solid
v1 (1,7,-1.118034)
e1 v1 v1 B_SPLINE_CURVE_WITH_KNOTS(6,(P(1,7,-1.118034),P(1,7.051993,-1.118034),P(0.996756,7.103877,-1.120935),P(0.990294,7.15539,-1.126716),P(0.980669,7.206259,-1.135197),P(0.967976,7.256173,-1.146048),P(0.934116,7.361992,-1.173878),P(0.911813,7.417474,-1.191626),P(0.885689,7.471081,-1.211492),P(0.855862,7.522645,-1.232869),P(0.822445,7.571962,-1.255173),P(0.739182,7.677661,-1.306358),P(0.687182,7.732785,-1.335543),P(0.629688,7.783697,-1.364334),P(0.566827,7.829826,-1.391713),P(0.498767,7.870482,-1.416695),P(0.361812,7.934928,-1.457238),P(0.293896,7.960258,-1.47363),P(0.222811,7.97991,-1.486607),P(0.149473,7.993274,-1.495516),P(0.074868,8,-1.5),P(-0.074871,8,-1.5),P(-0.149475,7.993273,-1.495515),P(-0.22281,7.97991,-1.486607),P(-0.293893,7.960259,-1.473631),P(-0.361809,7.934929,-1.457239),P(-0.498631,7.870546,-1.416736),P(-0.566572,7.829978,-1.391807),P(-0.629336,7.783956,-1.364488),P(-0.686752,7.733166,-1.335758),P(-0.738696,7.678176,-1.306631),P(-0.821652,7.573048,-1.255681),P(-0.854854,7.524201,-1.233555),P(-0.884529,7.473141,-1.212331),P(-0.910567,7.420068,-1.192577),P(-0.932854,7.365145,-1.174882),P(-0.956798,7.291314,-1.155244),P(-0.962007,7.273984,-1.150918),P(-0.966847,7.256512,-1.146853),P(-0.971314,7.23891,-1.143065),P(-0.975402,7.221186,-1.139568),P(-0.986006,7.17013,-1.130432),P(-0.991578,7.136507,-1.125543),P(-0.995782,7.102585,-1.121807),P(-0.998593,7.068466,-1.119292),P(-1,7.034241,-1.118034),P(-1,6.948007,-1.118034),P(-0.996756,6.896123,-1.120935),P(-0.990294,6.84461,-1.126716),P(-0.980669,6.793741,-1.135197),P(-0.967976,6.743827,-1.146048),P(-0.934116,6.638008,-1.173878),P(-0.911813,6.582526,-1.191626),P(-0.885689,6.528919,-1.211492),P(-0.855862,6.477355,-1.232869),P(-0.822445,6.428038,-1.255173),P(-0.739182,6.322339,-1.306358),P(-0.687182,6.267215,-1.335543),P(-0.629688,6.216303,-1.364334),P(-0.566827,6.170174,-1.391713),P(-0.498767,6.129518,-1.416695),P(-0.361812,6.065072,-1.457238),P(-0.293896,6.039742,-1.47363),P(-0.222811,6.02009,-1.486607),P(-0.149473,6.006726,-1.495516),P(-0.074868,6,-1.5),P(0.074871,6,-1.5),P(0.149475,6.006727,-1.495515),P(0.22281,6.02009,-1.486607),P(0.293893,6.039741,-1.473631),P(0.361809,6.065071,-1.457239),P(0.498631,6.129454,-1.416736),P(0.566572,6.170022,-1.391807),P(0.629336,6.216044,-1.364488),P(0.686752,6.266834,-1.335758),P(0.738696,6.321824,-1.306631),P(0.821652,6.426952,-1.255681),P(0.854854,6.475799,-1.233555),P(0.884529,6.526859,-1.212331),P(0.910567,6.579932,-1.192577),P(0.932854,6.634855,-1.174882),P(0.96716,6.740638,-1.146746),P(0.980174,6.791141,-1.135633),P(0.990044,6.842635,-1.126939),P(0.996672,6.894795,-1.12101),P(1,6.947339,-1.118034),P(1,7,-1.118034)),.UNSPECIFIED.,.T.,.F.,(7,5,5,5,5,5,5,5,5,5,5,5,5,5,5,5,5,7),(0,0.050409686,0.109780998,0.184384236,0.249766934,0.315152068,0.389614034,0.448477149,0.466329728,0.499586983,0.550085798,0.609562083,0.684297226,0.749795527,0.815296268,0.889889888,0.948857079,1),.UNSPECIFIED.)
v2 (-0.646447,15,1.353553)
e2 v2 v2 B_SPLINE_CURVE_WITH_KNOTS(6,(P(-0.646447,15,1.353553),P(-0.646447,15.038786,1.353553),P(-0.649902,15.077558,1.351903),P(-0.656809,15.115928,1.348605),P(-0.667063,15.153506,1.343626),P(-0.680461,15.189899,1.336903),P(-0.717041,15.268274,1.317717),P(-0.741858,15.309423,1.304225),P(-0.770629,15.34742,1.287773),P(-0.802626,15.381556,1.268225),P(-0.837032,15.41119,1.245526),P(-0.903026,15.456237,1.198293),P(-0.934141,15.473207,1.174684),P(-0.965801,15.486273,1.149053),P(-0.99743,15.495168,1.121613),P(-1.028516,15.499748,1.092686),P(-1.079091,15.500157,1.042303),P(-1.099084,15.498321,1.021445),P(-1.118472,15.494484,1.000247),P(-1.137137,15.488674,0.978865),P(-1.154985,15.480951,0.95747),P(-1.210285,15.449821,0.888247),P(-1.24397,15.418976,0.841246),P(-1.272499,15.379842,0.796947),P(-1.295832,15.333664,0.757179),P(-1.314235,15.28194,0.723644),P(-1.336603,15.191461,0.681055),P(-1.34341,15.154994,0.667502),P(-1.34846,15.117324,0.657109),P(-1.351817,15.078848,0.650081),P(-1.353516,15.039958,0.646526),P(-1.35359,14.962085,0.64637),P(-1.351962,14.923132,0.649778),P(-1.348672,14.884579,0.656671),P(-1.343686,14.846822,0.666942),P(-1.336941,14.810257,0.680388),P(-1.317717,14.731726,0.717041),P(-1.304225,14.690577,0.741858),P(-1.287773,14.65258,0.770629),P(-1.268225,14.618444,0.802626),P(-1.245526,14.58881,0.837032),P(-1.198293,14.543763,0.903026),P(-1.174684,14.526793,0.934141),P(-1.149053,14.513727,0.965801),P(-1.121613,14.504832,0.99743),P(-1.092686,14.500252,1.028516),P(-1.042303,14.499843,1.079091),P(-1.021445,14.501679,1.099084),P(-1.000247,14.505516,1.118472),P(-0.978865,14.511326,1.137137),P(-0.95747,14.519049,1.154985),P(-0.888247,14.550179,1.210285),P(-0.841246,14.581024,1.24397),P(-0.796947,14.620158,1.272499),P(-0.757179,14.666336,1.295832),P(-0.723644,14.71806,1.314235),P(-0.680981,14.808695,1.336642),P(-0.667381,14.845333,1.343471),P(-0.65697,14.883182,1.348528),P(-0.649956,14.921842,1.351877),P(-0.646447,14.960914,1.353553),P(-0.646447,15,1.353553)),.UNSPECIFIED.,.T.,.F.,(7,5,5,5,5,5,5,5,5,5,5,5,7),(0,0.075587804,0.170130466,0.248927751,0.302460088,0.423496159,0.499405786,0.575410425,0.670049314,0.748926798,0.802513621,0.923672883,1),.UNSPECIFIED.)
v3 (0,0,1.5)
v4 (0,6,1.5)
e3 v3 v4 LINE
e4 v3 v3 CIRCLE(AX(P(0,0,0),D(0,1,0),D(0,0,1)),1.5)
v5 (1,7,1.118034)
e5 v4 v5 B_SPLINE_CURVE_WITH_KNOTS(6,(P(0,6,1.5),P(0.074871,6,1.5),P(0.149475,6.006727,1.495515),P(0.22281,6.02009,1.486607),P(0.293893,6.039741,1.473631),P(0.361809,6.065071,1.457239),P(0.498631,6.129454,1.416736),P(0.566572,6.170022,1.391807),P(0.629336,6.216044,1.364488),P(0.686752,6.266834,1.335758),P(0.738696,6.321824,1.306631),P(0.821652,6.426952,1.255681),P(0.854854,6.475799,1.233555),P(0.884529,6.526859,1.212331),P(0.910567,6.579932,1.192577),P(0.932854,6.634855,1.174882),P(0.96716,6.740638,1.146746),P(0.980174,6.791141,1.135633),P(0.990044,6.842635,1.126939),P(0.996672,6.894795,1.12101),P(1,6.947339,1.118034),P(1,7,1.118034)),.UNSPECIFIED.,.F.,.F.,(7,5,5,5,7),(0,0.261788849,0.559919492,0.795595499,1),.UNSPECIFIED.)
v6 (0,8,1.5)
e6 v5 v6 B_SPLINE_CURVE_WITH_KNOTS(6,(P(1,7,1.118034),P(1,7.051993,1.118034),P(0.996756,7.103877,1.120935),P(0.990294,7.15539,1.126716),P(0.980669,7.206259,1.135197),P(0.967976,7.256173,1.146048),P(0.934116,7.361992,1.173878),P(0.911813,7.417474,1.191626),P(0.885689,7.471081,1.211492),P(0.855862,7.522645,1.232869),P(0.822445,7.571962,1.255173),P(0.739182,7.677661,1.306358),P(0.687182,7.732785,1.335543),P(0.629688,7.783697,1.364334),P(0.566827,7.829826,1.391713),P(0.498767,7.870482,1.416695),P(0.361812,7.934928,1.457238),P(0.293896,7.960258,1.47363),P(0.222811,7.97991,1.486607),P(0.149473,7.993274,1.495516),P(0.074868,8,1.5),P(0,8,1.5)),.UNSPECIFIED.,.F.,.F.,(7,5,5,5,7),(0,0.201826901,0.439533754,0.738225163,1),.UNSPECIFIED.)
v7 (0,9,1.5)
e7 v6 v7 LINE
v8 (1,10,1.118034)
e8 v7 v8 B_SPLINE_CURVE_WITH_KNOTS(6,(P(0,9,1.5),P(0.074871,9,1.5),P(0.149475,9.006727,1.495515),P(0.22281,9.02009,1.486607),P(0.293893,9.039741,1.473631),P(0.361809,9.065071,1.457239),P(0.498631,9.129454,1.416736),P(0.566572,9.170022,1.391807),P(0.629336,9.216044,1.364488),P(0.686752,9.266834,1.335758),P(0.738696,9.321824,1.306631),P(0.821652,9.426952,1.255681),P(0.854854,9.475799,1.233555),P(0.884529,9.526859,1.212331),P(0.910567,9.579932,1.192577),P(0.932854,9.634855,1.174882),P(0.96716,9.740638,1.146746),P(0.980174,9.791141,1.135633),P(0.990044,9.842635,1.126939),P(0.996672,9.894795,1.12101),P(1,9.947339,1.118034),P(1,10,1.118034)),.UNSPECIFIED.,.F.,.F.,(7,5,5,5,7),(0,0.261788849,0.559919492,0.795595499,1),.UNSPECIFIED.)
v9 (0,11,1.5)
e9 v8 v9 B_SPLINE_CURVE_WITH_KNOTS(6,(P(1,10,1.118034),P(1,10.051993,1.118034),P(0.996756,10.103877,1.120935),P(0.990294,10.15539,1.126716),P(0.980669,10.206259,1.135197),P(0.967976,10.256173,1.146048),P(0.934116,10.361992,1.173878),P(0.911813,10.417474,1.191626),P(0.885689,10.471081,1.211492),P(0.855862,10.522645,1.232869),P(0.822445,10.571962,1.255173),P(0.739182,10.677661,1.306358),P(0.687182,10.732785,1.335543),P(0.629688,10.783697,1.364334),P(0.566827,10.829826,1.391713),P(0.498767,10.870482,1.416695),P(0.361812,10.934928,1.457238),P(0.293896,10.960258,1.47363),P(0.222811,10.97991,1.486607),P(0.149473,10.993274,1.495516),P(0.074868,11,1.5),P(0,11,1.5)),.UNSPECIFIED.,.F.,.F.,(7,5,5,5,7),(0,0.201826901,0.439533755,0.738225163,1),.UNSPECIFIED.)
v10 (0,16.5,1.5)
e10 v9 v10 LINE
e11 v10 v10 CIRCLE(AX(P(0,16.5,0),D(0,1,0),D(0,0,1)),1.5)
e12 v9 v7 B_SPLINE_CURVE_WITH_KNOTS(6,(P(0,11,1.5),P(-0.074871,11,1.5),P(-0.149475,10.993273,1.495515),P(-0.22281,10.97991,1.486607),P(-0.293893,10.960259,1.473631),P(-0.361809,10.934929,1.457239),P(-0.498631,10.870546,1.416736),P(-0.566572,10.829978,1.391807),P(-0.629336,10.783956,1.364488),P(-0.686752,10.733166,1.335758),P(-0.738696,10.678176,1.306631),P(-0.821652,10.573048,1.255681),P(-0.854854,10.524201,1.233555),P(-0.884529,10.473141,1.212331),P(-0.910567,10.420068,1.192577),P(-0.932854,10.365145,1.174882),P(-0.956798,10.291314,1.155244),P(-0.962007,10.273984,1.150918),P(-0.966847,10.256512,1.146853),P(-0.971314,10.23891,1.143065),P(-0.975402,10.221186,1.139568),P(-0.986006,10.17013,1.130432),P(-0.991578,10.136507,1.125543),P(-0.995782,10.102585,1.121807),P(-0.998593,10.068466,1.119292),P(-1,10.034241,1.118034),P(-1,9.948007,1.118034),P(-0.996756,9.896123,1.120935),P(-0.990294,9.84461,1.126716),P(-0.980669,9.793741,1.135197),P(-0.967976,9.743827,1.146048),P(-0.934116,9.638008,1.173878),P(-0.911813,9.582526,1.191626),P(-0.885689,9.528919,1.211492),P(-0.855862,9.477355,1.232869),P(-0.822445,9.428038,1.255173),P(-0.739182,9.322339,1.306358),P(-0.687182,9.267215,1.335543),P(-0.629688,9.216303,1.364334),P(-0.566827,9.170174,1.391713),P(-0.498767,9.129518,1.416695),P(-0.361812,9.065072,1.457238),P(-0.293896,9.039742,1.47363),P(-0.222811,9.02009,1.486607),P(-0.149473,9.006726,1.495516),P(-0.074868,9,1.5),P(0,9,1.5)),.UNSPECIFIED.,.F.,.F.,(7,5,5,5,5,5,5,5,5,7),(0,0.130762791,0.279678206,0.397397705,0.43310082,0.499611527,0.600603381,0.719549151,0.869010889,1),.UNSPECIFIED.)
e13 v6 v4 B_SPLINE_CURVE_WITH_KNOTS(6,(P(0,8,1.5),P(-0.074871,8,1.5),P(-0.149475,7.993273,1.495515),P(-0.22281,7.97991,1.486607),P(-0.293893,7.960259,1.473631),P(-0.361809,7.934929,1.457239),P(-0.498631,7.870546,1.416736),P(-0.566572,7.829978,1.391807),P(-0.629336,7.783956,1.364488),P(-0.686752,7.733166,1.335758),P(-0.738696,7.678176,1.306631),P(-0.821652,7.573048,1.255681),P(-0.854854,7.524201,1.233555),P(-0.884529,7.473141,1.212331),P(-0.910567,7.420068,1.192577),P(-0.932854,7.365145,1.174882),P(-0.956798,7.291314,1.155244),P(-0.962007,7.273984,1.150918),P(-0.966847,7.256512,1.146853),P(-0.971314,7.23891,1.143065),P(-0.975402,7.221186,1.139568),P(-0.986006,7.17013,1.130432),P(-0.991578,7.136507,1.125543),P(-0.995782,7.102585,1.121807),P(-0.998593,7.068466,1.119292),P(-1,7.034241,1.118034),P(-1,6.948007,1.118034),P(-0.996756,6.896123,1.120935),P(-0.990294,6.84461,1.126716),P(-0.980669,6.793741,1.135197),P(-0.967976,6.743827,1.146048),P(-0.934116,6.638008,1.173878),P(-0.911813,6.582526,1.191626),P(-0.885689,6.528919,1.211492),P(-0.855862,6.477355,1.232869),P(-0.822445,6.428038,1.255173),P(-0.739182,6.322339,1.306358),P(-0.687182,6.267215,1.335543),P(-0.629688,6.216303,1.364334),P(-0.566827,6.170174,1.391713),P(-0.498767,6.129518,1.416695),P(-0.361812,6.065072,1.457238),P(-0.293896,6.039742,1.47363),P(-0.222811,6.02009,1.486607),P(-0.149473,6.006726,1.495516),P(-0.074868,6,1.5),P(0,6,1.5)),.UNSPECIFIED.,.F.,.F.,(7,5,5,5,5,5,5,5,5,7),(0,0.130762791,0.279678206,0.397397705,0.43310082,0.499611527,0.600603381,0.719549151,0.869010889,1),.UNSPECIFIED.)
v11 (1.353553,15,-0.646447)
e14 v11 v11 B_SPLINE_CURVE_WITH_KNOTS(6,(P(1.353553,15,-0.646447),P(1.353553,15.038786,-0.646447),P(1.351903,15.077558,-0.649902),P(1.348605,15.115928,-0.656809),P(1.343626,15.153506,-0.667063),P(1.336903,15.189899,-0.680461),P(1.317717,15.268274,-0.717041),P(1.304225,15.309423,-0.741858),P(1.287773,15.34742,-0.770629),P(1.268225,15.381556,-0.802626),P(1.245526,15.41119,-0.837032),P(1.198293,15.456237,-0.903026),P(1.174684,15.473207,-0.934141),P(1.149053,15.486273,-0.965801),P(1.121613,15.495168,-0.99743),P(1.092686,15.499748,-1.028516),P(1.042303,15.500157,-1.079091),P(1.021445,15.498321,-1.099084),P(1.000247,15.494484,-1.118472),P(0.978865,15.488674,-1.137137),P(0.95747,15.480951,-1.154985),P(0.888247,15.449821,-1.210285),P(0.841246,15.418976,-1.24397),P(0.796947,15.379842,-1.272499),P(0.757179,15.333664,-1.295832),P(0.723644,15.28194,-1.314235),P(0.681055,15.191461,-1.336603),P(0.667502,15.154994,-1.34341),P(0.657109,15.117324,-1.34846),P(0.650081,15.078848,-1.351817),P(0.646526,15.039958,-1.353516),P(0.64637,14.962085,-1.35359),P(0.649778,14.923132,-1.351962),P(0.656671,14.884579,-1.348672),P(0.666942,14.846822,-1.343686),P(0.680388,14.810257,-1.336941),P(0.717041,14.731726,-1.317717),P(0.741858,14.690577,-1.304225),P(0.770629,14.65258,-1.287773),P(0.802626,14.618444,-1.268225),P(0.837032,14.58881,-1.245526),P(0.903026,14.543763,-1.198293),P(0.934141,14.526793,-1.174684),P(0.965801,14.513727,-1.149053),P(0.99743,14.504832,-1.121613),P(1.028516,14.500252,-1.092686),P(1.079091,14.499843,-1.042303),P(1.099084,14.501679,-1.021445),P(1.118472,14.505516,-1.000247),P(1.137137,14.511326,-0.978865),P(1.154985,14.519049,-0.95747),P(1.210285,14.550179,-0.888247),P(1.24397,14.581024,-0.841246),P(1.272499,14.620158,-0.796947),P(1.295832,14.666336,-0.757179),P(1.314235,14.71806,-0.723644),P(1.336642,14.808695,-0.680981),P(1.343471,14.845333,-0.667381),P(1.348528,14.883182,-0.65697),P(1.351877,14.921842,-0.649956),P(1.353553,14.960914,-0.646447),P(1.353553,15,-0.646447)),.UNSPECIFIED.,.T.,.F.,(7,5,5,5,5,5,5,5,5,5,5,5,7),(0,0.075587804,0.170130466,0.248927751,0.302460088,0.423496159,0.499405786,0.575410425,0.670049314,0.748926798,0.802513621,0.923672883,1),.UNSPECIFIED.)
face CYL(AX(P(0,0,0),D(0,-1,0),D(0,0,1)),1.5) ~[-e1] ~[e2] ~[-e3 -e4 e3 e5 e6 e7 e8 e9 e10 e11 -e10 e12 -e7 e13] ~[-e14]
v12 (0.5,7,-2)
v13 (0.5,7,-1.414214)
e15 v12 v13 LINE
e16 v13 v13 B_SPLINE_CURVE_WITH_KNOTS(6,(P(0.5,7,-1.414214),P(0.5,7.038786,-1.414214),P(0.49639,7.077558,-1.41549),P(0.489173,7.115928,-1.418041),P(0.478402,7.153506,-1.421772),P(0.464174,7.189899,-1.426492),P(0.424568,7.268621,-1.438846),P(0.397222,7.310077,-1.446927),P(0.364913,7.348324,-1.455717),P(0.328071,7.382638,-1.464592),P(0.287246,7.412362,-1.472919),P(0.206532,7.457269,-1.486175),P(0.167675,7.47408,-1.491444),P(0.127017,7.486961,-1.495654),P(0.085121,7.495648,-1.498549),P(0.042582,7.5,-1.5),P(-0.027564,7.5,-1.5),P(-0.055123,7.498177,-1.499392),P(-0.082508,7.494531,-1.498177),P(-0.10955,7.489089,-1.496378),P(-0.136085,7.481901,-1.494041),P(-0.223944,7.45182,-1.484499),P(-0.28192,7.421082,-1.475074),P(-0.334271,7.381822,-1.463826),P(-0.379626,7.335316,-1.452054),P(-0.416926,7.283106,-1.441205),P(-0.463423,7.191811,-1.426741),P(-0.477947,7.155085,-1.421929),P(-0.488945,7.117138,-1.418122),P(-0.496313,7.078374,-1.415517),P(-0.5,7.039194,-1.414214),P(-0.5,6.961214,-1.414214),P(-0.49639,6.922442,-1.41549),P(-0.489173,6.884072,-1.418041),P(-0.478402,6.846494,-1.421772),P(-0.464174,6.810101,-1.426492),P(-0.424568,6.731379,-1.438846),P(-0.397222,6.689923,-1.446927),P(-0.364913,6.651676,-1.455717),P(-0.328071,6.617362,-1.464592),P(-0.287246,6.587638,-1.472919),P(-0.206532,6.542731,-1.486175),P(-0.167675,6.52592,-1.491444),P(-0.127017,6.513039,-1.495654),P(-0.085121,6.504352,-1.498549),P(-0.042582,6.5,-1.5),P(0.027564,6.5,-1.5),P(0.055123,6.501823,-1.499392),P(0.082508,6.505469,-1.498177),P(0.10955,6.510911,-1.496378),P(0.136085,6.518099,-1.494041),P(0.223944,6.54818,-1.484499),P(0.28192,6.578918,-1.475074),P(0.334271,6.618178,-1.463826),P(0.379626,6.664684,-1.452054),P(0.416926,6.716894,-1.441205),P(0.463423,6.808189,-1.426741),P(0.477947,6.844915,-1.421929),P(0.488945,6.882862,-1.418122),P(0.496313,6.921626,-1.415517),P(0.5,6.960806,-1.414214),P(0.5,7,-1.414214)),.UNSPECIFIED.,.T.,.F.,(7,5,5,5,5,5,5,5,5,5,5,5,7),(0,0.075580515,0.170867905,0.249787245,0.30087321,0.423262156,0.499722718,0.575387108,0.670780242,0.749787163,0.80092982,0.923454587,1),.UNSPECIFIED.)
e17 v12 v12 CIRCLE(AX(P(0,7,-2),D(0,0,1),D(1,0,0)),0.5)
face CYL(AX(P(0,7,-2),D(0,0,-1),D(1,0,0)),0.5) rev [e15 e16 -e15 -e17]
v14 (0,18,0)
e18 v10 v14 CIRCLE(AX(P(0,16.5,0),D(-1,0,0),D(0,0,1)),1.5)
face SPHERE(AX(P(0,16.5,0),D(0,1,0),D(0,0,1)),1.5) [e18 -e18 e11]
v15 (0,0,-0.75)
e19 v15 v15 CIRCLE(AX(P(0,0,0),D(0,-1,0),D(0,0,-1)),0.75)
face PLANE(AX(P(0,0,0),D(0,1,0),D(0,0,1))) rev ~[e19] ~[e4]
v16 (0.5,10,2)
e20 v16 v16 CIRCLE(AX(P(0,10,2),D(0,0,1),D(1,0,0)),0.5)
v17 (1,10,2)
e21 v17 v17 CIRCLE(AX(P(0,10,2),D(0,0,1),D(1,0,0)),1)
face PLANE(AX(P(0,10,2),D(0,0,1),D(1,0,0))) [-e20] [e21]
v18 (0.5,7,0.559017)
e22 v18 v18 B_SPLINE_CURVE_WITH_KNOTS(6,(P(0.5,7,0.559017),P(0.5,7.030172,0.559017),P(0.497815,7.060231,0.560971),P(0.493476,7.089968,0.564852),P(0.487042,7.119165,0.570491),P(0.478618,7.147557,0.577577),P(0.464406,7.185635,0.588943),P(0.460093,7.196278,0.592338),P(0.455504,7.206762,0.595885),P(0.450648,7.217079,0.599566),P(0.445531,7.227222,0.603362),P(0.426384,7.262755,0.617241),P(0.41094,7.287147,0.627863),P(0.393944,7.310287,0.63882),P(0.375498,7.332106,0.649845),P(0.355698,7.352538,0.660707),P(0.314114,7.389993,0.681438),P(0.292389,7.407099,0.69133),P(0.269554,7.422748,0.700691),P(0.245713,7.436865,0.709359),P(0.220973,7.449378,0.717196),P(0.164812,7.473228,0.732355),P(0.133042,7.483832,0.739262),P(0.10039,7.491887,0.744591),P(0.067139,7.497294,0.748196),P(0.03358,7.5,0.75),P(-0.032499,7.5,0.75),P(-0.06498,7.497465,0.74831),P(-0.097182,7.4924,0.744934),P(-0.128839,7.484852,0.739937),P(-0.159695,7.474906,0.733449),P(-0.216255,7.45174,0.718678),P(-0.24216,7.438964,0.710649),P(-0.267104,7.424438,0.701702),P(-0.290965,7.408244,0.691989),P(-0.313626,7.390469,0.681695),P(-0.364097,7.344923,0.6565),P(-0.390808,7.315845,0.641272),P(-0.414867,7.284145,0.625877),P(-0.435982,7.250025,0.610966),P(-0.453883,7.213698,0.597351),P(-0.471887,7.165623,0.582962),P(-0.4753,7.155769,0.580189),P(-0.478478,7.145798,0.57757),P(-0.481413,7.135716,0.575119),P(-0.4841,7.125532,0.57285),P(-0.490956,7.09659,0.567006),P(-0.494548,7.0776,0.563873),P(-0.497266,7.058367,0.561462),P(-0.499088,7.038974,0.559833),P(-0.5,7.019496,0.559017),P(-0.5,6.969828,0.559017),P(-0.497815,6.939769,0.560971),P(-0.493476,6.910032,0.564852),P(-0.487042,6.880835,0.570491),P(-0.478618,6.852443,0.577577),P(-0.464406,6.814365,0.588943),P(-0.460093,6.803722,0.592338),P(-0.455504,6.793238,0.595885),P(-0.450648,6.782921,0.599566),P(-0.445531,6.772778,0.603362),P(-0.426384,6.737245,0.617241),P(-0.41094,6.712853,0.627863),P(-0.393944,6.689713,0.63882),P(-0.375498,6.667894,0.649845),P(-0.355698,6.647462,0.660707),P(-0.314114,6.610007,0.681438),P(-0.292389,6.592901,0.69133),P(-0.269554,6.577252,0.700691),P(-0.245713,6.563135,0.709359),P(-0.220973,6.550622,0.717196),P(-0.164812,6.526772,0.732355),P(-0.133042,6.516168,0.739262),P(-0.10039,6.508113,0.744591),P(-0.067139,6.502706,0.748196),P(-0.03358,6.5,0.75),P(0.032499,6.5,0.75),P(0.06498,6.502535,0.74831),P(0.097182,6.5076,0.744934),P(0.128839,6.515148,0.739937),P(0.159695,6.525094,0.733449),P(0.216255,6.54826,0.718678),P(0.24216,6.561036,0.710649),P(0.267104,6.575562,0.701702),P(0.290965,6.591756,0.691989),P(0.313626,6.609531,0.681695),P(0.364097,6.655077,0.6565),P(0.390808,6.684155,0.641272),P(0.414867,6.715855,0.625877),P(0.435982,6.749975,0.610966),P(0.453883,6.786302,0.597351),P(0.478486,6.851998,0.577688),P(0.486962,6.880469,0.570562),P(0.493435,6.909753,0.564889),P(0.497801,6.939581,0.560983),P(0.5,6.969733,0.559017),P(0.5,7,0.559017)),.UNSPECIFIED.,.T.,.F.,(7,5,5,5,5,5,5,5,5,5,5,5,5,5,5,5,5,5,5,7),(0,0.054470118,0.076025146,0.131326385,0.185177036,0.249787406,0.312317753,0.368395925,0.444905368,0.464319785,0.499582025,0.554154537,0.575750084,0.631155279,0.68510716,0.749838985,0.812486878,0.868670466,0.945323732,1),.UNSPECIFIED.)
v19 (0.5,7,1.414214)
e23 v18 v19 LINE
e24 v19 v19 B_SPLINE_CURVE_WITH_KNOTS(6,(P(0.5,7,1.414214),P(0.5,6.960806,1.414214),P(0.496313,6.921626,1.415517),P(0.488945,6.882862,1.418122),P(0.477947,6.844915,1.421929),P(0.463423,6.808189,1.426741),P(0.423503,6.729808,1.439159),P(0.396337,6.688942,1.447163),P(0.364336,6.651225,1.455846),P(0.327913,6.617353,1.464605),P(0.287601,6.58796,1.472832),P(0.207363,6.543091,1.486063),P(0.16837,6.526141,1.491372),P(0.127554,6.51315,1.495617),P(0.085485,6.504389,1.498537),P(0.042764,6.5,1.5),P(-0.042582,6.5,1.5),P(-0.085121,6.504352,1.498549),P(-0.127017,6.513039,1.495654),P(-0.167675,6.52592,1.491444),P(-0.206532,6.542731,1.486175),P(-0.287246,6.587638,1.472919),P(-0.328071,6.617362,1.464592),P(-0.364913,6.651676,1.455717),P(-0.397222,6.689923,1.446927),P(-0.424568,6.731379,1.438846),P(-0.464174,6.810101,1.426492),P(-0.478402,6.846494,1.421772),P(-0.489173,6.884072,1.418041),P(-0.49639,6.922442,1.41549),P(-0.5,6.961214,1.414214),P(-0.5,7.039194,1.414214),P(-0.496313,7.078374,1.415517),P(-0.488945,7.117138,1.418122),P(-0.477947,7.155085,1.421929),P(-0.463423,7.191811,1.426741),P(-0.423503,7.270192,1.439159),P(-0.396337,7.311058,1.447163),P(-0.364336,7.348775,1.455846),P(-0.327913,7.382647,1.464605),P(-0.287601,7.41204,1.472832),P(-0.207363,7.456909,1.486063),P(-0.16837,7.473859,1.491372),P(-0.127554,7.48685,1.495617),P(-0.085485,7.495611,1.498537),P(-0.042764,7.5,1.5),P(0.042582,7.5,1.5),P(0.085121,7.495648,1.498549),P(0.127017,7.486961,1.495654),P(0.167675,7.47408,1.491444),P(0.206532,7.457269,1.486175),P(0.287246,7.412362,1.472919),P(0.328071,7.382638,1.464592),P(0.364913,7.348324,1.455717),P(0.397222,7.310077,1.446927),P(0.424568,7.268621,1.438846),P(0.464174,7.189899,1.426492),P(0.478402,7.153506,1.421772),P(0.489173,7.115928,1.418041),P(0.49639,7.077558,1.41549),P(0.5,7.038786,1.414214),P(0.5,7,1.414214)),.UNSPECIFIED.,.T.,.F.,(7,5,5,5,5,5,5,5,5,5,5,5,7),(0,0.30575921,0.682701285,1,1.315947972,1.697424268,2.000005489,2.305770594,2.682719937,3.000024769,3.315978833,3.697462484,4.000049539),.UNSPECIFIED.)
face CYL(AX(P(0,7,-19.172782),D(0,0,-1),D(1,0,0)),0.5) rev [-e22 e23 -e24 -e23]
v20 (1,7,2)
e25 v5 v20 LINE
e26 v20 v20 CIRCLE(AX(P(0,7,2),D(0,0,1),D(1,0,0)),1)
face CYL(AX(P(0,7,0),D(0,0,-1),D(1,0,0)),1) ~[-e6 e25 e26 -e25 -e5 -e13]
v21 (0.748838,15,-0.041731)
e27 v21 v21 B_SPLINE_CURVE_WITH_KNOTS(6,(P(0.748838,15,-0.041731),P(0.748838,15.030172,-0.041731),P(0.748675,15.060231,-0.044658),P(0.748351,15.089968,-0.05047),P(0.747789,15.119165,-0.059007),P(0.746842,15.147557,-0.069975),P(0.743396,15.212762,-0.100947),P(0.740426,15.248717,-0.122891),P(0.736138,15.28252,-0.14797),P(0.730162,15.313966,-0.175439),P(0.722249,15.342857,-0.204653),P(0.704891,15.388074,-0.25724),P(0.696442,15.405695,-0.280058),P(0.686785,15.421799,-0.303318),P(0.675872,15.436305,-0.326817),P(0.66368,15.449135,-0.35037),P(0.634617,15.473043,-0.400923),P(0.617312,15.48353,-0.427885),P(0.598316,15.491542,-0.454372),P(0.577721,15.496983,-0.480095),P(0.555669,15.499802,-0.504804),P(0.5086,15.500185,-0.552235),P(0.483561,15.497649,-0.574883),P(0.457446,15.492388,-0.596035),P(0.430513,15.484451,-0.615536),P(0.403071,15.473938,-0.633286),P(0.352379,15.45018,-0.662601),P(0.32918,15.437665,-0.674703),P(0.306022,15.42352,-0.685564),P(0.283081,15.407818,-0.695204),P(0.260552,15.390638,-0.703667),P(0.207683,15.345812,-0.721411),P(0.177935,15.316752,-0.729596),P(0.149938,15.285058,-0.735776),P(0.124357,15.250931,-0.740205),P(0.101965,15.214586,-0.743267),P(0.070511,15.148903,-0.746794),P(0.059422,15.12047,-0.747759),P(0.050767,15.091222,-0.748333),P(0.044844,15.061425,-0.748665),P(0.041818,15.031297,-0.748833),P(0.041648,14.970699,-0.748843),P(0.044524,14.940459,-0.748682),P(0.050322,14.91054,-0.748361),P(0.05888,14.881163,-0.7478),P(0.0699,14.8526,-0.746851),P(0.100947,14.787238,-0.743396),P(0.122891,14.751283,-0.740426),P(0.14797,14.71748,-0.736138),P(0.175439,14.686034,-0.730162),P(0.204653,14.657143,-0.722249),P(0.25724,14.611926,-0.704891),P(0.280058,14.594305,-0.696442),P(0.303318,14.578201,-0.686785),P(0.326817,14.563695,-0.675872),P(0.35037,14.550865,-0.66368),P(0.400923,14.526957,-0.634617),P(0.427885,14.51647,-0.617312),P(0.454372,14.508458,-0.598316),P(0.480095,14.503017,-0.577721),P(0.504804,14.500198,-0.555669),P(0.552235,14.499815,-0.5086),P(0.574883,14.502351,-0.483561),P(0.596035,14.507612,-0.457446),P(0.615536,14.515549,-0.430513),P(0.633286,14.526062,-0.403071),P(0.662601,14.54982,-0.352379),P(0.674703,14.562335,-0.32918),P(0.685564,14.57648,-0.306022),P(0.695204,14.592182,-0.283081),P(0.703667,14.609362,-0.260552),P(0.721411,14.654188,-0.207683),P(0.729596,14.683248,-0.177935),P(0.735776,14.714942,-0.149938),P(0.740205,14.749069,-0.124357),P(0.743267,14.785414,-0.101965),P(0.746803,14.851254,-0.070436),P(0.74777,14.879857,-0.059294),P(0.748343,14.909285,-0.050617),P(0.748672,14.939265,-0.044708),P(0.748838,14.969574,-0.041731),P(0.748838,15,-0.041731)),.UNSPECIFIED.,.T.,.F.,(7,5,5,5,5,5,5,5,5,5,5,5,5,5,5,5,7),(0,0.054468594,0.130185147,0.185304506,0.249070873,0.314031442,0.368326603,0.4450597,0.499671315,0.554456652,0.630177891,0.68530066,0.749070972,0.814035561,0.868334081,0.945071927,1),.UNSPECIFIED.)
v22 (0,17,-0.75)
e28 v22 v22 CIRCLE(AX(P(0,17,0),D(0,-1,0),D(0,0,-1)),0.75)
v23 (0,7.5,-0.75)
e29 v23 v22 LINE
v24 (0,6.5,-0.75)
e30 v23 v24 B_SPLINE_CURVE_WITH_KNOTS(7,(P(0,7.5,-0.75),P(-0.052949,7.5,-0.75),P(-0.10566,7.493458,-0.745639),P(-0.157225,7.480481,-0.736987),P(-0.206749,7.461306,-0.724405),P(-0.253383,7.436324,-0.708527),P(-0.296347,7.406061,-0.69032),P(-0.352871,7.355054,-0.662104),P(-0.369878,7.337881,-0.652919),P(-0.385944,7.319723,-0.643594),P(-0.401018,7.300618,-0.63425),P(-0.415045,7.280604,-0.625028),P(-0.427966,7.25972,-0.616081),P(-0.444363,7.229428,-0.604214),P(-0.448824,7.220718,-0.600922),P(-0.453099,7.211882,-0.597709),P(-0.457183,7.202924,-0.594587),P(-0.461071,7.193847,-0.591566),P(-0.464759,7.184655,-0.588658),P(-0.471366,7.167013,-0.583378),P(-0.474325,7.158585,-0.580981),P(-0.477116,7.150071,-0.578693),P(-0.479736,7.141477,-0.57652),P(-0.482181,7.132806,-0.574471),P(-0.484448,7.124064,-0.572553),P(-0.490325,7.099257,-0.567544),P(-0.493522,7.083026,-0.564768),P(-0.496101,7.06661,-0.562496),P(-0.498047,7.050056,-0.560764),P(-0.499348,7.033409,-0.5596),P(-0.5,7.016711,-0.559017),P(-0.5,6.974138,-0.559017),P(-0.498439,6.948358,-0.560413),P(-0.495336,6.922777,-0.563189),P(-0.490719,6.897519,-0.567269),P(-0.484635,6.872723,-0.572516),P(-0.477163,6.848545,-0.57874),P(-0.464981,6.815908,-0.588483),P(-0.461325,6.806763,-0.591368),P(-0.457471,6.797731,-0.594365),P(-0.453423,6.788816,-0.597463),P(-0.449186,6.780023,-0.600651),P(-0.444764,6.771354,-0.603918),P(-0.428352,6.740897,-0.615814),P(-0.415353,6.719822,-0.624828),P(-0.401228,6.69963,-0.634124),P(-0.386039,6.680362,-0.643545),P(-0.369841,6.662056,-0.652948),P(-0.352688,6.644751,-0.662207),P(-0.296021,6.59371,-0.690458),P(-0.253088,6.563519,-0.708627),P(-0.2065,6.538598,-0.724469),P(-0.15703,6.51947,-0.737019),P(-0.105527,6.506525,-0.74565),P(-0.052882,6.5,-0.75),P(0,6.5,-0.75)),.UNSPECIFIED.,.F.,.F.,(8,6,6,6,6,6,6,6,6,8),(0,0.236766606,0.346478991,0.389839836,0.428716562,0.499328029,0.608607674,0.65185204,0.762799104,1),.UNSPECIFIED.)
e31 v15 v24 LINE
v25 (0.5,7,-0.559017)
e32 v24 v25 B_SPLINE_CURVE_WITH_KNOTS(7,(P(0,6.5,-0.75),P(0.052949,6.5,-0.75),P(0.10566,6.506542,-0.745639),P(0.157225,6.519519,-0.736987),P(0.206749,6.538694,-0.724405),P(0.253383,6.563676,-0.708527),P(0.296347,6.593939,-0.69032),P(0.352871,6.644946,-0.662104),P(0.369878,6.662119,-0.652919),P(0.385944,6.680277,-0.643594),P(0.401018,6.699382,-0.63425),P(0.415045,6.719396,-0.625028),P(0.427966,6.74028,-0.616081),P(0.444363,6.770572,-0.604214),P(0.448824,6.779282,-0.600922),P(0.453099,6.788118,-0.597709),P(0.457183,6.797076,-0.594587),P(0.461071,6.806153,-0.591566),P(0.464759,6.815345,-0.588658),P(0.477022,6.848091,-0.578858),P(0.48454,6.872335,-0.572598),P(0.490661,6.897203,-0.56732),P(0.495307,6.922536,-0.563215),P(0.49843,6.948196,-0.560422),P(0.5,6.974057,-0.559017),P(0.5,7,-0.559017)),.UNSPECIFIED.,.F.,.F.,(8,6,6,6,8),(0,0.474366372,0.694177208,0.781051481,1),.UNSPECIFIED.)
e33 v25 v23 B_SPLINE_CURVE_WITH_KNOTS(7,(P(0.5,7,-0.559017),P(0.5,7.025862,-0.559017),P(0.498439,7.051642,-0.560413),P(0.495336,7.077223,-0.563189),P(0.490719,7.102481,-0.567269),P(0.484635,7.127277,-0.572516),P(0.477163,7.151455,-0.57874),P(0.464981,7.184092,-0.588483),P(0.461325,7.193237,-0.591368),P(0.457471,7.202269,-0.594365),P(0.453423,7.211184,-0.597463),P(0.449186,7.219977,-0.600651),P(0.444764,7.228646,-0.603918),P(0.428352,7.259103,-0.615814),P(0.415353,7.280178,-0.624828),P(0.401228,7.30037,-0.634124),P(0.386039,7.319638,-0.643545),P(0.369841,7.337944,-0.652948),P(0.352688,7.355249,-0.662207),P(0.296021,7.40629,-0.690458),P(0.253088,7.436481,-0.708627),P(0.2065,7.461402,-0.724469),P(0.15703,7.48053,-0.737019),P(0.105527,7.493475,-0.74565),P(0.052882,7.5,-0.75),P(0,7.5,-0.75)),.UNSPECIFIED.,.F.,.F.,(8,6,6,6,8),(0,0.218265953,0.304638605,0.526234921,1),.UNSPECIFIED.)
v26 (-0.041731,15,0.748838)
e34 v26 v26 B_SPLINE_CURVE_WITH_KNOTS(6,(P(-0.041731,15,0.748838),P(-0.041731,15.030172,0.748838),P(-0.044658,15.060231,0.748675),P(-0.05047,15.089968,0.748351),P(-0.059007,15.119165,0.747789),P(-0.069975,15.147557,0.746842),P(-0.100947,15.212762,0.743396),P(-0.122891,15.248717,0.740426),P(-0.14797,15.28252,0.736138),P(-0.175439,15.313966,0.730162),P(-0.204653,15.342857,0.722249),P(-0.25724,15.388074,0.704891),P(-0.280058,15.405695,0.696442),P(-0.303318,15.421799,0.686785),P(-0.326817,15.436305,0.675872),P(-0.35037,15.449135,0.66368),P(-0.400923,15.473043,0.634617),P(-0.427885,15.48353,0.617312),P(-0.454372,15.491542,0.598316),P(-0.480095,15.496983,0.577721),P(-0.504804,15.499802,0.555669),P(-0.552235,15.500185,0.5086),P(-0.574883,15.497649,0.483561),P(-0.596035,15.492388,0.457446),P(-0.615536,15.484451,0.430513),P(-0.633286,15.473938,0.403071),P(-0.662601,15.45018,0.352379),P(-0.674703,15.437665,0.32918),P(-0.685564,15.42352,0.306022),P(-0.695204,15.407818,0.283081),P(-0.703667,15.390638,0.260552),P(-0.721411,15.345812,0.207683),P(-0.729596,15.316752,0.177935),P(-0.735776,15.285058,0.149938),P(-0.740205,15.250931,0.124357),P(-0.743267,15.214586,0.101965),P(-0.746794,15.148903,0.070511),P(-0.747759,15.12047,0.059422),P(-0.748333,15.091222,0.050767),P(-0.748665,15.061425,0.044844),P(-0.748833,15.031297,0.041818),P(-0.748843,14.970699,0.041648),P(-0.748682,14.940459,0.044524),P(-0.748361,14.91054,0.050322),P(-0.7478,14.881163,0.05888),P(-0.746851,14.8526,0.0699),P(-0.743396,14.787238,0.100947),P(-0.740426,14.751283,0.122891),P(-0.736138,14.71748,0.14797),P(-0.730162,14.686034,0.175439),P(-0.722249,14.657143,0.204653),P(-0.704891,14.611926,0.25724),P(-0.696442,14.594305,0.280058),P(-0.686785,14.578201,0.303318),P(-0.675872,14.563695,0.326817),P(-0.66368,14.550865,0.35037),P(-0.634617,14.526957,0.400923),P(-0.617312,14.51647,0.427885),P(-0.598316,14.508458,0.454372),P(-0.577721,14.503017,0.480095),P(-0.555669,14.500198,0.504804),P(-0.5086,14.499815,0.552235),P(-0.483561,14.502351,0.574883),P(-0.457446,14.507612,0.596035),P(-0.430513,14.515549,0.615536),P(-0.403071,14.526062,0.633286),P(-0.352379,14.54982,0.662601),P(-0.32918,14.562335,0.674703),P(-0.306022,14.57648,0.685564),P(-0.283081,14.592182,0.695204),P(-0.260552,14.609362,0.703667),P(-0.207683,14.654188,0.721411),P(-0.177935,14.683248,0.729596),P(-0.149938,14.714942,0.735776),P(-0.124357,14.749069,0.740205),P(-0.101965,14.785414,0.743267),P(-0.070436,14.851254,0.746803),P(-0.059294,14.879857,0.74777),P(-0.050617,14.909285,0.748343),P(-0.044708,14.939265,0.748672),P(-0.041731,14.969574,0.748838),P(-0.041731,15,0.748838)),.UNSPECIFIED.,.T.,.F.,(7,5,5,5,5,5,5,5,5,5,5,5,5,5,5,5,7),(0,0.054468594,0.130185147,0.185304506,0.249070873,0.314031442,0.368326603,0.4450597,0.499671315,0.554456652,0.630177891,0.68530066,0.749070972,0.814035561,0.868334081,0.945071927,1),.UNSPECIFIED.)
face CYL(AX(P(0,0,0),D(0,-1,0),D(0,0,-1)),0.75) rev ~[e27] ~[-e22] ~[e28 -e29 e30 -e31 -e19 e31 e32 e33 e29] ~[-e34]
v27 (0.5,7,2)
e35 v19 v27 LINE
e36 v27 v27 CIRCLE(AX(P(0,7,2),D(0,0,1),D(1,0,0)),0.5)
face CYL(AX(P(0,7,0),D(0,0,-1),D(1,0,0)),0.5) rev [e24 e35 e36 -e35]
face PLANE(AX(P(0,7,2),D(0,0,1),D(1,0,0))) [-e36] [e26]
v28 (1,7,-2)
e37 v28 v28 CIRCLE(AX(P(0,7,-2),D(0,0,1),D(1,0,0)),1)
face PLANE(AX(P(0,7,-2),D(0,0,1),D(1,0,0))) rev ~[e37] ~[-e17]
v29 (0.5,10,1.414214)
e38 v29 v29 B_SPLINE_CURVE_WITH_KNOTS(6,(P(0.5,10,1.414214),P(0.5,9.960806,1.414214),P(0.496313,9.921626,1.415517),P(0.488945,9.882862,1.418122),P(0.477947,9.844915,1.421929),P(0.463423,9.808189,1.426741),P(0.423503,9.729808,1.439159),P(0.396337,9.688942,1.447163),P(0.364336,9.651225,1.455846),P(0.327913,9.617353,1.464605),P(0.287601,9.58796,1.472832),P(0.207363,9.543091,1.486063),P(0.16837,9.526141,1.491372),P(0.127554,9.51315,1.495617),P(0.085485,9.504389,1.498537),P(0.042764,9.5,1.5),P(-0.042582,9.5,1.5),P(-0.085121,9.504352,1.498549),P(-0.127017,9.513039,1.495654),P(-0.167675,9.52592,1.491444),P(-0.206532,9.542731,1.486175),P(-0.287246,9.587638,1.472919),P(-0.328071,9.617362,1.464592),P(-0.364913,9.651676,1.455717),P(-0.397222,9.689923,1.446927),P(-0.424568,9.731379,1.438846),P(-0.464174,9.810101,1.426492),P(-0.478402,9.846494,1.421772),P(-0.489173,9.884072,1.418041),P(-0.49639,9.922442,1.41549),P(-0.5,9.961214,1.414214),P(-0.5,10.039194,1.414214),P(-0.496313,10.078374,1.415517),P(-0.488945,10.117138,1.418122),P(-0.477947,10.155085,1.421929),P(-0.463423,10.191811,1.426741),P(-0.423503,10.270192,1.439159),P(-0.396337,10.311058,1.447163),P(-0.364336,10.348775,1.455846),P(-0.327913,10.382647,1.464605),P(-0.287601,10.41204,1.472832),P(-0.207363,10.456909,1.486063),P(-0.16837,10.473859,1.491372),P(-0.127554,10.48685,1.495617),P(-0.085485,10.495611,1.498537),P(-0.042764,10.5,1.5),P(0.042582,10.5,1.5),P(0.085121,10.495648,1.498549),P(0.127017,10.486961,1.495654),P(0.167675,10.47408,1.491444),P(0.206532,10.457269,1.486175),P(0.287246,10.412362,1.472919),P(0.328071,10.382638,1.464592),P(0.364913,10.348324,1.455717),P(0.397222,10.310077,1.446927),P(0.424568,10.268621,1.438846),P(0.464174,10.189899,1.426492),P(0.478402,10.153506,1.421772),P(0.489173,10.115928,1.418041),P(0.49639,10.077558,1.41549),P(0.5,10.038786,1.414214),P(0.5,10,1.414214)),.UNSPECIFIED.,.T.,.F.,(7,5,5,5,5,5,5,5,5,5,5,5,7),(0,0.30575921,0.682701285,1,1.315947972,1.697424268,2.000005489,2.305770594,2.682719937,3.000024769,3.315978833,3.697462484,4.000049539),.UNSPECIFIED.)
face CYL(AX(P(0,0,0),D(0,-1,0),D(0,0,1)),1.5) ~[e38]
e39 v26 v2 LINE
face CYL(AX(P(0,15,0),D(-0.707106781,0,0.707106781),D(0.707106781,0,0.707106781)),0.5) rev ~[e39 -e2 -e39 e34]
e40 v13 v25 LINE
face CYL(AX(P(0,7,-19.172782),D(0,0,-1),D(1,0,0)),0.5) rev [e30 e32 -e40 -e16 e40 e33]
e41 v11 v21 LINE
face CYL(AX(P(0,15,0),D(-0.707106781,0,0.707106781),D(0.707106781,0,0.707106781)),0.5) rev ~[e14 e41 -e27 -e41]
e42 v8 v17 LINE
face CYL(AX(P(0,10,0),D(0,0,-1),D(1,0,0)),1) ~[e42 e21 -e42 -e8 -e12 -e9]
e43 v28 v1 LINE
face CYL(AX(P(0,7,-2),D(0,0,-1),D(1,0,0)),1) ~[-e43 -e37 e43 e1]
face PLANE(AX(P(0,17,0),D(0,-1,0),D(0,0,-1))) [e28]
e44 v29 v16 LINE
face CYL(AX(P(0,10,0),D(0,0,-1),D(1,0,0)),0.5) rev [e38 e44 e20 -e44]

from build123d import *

# Parameters (mm, degrees)
SKETCH1_R               = 1.5
BOSS_EXTRUDE1_DEPTH     = 18
FILLET1_R               = 1.5
SKETCH2_R               = 1
SKETCH2_R_2             = 0.5
EXTRUDE_THIN1_DEPTH     = 2
EXTRUDE_THIN2_START     = -2
SKETCH2_2_R             = 1
SKETCH2_2_R_2           = 0.5
EXTRUDE_THIN2_DEPTH     = 2
CUT_EXTRUDE1_DEPTH      = 19.172781865
CUT_EXTRUDE1_DEPTH_BACK = 19.172781865
SKETCH3_R               = 0.5
SKETCH4_R               = 0.5
CUT_EXTRUDE2_DEPTH      = 3
SKETCH5_R               = 0.75
CUT_EXTRUDE3_DEPTH      = 17


with BuildPart() as part:
    # Sketch1 → Boss-Extrude1 (new body)
    with BuildSketch(Plane(origin=(0, 0, 0), x_dir=(1, 0, 0), z_dir=(0, 1, 0))):
        Circle(SKETCH1_R)
    extrude(amount=BOSS_EXTRUDE1_DEPTH)

    # Fillet1
    fillet1_edges = [part.edges().sort_by_distance(p)[0] for p in [
        (-1.5, 18, 0),
    ]]
    fillet(fillet1_edges, radius=FILLET1_R)

    # Sketch2 → Extrude-Thin1 (add)
    # profile 1 of 2: a face of its own
    with BuildSketch(Plane.XY):
        with Locations((0, 7)):
            Circle(SKETCH2_R)
        with Locations((0, 7)):
            Circle(SKETCH2_R_2, mode=Mode.SUBTRACT)
    # profile 2 of 2: a face of its own
    with BuildSketch(Plane.XY):
        with Locations((0, 10)):
            Circle(SKETCH2_R)
        with Locations((0, 10)):
            Circle(SKETCH2_R_2, mode=Mode.SUBTRACT)
    extrude(amount=EXTRUDE_THIN1_DEPTH)

    # Sketch2<2> → Extrude-Thin2 (add)
    with BuildSketch(Plane.XY.offset(EXTRUDE_THIN2_START)):
        with Locations((0, 7)):
            Circle(SKETCH2_2_R)
        with Locations((0, 7)):
            Circle(SKETCH2_2_R_2, mode=Mode.SUBTRACT)
    extrude(amount=EXTRUDE_THIN2_DEPTH)

    # Sketch3 → Cut-Extrude1 (cut, two sides: drawn at the far end of the back side and taken through both)
    with BuildSketch(Plane.XY.offset(-CUT_EXTRUDE1_DEPTH_BACK)):
        with Locations((0, 7)):
            Circle(SKETCH3_R)
    extrude(amount=CUT_EXTRUDE1_DEPTH + CUT_EXTRUDE1_DEPTH_BACK, mode=Mode.SUBTRACT)

    # Sketch4 → Cut-Extrude2 (cut, symmetric)
    with BuildSketch(Plane(origin=(0, 0, 0), x_dir=(0.7071067811865477, 0, 0.7071067811865475), z_dir=(-0.7071067811865475, 0, 0.7071067811865477))):
        with Locations((0, 15)):
            Circle(SKETCH4_R)
    extrude(amount=CUT_EXTRUDE2_DEPTH, both=True, mode=Mode.SUBTRACT)

    # Sketch5 → Cut-Extrude3 (cut)
    with BuildSketch(Plane.XZ):
        Circle(SKETCH5_R)
    extrude(amount=-CUT_EXTRUDE3_DEPTH, mode=Mode.SUBTRACT)


solid = part.part
